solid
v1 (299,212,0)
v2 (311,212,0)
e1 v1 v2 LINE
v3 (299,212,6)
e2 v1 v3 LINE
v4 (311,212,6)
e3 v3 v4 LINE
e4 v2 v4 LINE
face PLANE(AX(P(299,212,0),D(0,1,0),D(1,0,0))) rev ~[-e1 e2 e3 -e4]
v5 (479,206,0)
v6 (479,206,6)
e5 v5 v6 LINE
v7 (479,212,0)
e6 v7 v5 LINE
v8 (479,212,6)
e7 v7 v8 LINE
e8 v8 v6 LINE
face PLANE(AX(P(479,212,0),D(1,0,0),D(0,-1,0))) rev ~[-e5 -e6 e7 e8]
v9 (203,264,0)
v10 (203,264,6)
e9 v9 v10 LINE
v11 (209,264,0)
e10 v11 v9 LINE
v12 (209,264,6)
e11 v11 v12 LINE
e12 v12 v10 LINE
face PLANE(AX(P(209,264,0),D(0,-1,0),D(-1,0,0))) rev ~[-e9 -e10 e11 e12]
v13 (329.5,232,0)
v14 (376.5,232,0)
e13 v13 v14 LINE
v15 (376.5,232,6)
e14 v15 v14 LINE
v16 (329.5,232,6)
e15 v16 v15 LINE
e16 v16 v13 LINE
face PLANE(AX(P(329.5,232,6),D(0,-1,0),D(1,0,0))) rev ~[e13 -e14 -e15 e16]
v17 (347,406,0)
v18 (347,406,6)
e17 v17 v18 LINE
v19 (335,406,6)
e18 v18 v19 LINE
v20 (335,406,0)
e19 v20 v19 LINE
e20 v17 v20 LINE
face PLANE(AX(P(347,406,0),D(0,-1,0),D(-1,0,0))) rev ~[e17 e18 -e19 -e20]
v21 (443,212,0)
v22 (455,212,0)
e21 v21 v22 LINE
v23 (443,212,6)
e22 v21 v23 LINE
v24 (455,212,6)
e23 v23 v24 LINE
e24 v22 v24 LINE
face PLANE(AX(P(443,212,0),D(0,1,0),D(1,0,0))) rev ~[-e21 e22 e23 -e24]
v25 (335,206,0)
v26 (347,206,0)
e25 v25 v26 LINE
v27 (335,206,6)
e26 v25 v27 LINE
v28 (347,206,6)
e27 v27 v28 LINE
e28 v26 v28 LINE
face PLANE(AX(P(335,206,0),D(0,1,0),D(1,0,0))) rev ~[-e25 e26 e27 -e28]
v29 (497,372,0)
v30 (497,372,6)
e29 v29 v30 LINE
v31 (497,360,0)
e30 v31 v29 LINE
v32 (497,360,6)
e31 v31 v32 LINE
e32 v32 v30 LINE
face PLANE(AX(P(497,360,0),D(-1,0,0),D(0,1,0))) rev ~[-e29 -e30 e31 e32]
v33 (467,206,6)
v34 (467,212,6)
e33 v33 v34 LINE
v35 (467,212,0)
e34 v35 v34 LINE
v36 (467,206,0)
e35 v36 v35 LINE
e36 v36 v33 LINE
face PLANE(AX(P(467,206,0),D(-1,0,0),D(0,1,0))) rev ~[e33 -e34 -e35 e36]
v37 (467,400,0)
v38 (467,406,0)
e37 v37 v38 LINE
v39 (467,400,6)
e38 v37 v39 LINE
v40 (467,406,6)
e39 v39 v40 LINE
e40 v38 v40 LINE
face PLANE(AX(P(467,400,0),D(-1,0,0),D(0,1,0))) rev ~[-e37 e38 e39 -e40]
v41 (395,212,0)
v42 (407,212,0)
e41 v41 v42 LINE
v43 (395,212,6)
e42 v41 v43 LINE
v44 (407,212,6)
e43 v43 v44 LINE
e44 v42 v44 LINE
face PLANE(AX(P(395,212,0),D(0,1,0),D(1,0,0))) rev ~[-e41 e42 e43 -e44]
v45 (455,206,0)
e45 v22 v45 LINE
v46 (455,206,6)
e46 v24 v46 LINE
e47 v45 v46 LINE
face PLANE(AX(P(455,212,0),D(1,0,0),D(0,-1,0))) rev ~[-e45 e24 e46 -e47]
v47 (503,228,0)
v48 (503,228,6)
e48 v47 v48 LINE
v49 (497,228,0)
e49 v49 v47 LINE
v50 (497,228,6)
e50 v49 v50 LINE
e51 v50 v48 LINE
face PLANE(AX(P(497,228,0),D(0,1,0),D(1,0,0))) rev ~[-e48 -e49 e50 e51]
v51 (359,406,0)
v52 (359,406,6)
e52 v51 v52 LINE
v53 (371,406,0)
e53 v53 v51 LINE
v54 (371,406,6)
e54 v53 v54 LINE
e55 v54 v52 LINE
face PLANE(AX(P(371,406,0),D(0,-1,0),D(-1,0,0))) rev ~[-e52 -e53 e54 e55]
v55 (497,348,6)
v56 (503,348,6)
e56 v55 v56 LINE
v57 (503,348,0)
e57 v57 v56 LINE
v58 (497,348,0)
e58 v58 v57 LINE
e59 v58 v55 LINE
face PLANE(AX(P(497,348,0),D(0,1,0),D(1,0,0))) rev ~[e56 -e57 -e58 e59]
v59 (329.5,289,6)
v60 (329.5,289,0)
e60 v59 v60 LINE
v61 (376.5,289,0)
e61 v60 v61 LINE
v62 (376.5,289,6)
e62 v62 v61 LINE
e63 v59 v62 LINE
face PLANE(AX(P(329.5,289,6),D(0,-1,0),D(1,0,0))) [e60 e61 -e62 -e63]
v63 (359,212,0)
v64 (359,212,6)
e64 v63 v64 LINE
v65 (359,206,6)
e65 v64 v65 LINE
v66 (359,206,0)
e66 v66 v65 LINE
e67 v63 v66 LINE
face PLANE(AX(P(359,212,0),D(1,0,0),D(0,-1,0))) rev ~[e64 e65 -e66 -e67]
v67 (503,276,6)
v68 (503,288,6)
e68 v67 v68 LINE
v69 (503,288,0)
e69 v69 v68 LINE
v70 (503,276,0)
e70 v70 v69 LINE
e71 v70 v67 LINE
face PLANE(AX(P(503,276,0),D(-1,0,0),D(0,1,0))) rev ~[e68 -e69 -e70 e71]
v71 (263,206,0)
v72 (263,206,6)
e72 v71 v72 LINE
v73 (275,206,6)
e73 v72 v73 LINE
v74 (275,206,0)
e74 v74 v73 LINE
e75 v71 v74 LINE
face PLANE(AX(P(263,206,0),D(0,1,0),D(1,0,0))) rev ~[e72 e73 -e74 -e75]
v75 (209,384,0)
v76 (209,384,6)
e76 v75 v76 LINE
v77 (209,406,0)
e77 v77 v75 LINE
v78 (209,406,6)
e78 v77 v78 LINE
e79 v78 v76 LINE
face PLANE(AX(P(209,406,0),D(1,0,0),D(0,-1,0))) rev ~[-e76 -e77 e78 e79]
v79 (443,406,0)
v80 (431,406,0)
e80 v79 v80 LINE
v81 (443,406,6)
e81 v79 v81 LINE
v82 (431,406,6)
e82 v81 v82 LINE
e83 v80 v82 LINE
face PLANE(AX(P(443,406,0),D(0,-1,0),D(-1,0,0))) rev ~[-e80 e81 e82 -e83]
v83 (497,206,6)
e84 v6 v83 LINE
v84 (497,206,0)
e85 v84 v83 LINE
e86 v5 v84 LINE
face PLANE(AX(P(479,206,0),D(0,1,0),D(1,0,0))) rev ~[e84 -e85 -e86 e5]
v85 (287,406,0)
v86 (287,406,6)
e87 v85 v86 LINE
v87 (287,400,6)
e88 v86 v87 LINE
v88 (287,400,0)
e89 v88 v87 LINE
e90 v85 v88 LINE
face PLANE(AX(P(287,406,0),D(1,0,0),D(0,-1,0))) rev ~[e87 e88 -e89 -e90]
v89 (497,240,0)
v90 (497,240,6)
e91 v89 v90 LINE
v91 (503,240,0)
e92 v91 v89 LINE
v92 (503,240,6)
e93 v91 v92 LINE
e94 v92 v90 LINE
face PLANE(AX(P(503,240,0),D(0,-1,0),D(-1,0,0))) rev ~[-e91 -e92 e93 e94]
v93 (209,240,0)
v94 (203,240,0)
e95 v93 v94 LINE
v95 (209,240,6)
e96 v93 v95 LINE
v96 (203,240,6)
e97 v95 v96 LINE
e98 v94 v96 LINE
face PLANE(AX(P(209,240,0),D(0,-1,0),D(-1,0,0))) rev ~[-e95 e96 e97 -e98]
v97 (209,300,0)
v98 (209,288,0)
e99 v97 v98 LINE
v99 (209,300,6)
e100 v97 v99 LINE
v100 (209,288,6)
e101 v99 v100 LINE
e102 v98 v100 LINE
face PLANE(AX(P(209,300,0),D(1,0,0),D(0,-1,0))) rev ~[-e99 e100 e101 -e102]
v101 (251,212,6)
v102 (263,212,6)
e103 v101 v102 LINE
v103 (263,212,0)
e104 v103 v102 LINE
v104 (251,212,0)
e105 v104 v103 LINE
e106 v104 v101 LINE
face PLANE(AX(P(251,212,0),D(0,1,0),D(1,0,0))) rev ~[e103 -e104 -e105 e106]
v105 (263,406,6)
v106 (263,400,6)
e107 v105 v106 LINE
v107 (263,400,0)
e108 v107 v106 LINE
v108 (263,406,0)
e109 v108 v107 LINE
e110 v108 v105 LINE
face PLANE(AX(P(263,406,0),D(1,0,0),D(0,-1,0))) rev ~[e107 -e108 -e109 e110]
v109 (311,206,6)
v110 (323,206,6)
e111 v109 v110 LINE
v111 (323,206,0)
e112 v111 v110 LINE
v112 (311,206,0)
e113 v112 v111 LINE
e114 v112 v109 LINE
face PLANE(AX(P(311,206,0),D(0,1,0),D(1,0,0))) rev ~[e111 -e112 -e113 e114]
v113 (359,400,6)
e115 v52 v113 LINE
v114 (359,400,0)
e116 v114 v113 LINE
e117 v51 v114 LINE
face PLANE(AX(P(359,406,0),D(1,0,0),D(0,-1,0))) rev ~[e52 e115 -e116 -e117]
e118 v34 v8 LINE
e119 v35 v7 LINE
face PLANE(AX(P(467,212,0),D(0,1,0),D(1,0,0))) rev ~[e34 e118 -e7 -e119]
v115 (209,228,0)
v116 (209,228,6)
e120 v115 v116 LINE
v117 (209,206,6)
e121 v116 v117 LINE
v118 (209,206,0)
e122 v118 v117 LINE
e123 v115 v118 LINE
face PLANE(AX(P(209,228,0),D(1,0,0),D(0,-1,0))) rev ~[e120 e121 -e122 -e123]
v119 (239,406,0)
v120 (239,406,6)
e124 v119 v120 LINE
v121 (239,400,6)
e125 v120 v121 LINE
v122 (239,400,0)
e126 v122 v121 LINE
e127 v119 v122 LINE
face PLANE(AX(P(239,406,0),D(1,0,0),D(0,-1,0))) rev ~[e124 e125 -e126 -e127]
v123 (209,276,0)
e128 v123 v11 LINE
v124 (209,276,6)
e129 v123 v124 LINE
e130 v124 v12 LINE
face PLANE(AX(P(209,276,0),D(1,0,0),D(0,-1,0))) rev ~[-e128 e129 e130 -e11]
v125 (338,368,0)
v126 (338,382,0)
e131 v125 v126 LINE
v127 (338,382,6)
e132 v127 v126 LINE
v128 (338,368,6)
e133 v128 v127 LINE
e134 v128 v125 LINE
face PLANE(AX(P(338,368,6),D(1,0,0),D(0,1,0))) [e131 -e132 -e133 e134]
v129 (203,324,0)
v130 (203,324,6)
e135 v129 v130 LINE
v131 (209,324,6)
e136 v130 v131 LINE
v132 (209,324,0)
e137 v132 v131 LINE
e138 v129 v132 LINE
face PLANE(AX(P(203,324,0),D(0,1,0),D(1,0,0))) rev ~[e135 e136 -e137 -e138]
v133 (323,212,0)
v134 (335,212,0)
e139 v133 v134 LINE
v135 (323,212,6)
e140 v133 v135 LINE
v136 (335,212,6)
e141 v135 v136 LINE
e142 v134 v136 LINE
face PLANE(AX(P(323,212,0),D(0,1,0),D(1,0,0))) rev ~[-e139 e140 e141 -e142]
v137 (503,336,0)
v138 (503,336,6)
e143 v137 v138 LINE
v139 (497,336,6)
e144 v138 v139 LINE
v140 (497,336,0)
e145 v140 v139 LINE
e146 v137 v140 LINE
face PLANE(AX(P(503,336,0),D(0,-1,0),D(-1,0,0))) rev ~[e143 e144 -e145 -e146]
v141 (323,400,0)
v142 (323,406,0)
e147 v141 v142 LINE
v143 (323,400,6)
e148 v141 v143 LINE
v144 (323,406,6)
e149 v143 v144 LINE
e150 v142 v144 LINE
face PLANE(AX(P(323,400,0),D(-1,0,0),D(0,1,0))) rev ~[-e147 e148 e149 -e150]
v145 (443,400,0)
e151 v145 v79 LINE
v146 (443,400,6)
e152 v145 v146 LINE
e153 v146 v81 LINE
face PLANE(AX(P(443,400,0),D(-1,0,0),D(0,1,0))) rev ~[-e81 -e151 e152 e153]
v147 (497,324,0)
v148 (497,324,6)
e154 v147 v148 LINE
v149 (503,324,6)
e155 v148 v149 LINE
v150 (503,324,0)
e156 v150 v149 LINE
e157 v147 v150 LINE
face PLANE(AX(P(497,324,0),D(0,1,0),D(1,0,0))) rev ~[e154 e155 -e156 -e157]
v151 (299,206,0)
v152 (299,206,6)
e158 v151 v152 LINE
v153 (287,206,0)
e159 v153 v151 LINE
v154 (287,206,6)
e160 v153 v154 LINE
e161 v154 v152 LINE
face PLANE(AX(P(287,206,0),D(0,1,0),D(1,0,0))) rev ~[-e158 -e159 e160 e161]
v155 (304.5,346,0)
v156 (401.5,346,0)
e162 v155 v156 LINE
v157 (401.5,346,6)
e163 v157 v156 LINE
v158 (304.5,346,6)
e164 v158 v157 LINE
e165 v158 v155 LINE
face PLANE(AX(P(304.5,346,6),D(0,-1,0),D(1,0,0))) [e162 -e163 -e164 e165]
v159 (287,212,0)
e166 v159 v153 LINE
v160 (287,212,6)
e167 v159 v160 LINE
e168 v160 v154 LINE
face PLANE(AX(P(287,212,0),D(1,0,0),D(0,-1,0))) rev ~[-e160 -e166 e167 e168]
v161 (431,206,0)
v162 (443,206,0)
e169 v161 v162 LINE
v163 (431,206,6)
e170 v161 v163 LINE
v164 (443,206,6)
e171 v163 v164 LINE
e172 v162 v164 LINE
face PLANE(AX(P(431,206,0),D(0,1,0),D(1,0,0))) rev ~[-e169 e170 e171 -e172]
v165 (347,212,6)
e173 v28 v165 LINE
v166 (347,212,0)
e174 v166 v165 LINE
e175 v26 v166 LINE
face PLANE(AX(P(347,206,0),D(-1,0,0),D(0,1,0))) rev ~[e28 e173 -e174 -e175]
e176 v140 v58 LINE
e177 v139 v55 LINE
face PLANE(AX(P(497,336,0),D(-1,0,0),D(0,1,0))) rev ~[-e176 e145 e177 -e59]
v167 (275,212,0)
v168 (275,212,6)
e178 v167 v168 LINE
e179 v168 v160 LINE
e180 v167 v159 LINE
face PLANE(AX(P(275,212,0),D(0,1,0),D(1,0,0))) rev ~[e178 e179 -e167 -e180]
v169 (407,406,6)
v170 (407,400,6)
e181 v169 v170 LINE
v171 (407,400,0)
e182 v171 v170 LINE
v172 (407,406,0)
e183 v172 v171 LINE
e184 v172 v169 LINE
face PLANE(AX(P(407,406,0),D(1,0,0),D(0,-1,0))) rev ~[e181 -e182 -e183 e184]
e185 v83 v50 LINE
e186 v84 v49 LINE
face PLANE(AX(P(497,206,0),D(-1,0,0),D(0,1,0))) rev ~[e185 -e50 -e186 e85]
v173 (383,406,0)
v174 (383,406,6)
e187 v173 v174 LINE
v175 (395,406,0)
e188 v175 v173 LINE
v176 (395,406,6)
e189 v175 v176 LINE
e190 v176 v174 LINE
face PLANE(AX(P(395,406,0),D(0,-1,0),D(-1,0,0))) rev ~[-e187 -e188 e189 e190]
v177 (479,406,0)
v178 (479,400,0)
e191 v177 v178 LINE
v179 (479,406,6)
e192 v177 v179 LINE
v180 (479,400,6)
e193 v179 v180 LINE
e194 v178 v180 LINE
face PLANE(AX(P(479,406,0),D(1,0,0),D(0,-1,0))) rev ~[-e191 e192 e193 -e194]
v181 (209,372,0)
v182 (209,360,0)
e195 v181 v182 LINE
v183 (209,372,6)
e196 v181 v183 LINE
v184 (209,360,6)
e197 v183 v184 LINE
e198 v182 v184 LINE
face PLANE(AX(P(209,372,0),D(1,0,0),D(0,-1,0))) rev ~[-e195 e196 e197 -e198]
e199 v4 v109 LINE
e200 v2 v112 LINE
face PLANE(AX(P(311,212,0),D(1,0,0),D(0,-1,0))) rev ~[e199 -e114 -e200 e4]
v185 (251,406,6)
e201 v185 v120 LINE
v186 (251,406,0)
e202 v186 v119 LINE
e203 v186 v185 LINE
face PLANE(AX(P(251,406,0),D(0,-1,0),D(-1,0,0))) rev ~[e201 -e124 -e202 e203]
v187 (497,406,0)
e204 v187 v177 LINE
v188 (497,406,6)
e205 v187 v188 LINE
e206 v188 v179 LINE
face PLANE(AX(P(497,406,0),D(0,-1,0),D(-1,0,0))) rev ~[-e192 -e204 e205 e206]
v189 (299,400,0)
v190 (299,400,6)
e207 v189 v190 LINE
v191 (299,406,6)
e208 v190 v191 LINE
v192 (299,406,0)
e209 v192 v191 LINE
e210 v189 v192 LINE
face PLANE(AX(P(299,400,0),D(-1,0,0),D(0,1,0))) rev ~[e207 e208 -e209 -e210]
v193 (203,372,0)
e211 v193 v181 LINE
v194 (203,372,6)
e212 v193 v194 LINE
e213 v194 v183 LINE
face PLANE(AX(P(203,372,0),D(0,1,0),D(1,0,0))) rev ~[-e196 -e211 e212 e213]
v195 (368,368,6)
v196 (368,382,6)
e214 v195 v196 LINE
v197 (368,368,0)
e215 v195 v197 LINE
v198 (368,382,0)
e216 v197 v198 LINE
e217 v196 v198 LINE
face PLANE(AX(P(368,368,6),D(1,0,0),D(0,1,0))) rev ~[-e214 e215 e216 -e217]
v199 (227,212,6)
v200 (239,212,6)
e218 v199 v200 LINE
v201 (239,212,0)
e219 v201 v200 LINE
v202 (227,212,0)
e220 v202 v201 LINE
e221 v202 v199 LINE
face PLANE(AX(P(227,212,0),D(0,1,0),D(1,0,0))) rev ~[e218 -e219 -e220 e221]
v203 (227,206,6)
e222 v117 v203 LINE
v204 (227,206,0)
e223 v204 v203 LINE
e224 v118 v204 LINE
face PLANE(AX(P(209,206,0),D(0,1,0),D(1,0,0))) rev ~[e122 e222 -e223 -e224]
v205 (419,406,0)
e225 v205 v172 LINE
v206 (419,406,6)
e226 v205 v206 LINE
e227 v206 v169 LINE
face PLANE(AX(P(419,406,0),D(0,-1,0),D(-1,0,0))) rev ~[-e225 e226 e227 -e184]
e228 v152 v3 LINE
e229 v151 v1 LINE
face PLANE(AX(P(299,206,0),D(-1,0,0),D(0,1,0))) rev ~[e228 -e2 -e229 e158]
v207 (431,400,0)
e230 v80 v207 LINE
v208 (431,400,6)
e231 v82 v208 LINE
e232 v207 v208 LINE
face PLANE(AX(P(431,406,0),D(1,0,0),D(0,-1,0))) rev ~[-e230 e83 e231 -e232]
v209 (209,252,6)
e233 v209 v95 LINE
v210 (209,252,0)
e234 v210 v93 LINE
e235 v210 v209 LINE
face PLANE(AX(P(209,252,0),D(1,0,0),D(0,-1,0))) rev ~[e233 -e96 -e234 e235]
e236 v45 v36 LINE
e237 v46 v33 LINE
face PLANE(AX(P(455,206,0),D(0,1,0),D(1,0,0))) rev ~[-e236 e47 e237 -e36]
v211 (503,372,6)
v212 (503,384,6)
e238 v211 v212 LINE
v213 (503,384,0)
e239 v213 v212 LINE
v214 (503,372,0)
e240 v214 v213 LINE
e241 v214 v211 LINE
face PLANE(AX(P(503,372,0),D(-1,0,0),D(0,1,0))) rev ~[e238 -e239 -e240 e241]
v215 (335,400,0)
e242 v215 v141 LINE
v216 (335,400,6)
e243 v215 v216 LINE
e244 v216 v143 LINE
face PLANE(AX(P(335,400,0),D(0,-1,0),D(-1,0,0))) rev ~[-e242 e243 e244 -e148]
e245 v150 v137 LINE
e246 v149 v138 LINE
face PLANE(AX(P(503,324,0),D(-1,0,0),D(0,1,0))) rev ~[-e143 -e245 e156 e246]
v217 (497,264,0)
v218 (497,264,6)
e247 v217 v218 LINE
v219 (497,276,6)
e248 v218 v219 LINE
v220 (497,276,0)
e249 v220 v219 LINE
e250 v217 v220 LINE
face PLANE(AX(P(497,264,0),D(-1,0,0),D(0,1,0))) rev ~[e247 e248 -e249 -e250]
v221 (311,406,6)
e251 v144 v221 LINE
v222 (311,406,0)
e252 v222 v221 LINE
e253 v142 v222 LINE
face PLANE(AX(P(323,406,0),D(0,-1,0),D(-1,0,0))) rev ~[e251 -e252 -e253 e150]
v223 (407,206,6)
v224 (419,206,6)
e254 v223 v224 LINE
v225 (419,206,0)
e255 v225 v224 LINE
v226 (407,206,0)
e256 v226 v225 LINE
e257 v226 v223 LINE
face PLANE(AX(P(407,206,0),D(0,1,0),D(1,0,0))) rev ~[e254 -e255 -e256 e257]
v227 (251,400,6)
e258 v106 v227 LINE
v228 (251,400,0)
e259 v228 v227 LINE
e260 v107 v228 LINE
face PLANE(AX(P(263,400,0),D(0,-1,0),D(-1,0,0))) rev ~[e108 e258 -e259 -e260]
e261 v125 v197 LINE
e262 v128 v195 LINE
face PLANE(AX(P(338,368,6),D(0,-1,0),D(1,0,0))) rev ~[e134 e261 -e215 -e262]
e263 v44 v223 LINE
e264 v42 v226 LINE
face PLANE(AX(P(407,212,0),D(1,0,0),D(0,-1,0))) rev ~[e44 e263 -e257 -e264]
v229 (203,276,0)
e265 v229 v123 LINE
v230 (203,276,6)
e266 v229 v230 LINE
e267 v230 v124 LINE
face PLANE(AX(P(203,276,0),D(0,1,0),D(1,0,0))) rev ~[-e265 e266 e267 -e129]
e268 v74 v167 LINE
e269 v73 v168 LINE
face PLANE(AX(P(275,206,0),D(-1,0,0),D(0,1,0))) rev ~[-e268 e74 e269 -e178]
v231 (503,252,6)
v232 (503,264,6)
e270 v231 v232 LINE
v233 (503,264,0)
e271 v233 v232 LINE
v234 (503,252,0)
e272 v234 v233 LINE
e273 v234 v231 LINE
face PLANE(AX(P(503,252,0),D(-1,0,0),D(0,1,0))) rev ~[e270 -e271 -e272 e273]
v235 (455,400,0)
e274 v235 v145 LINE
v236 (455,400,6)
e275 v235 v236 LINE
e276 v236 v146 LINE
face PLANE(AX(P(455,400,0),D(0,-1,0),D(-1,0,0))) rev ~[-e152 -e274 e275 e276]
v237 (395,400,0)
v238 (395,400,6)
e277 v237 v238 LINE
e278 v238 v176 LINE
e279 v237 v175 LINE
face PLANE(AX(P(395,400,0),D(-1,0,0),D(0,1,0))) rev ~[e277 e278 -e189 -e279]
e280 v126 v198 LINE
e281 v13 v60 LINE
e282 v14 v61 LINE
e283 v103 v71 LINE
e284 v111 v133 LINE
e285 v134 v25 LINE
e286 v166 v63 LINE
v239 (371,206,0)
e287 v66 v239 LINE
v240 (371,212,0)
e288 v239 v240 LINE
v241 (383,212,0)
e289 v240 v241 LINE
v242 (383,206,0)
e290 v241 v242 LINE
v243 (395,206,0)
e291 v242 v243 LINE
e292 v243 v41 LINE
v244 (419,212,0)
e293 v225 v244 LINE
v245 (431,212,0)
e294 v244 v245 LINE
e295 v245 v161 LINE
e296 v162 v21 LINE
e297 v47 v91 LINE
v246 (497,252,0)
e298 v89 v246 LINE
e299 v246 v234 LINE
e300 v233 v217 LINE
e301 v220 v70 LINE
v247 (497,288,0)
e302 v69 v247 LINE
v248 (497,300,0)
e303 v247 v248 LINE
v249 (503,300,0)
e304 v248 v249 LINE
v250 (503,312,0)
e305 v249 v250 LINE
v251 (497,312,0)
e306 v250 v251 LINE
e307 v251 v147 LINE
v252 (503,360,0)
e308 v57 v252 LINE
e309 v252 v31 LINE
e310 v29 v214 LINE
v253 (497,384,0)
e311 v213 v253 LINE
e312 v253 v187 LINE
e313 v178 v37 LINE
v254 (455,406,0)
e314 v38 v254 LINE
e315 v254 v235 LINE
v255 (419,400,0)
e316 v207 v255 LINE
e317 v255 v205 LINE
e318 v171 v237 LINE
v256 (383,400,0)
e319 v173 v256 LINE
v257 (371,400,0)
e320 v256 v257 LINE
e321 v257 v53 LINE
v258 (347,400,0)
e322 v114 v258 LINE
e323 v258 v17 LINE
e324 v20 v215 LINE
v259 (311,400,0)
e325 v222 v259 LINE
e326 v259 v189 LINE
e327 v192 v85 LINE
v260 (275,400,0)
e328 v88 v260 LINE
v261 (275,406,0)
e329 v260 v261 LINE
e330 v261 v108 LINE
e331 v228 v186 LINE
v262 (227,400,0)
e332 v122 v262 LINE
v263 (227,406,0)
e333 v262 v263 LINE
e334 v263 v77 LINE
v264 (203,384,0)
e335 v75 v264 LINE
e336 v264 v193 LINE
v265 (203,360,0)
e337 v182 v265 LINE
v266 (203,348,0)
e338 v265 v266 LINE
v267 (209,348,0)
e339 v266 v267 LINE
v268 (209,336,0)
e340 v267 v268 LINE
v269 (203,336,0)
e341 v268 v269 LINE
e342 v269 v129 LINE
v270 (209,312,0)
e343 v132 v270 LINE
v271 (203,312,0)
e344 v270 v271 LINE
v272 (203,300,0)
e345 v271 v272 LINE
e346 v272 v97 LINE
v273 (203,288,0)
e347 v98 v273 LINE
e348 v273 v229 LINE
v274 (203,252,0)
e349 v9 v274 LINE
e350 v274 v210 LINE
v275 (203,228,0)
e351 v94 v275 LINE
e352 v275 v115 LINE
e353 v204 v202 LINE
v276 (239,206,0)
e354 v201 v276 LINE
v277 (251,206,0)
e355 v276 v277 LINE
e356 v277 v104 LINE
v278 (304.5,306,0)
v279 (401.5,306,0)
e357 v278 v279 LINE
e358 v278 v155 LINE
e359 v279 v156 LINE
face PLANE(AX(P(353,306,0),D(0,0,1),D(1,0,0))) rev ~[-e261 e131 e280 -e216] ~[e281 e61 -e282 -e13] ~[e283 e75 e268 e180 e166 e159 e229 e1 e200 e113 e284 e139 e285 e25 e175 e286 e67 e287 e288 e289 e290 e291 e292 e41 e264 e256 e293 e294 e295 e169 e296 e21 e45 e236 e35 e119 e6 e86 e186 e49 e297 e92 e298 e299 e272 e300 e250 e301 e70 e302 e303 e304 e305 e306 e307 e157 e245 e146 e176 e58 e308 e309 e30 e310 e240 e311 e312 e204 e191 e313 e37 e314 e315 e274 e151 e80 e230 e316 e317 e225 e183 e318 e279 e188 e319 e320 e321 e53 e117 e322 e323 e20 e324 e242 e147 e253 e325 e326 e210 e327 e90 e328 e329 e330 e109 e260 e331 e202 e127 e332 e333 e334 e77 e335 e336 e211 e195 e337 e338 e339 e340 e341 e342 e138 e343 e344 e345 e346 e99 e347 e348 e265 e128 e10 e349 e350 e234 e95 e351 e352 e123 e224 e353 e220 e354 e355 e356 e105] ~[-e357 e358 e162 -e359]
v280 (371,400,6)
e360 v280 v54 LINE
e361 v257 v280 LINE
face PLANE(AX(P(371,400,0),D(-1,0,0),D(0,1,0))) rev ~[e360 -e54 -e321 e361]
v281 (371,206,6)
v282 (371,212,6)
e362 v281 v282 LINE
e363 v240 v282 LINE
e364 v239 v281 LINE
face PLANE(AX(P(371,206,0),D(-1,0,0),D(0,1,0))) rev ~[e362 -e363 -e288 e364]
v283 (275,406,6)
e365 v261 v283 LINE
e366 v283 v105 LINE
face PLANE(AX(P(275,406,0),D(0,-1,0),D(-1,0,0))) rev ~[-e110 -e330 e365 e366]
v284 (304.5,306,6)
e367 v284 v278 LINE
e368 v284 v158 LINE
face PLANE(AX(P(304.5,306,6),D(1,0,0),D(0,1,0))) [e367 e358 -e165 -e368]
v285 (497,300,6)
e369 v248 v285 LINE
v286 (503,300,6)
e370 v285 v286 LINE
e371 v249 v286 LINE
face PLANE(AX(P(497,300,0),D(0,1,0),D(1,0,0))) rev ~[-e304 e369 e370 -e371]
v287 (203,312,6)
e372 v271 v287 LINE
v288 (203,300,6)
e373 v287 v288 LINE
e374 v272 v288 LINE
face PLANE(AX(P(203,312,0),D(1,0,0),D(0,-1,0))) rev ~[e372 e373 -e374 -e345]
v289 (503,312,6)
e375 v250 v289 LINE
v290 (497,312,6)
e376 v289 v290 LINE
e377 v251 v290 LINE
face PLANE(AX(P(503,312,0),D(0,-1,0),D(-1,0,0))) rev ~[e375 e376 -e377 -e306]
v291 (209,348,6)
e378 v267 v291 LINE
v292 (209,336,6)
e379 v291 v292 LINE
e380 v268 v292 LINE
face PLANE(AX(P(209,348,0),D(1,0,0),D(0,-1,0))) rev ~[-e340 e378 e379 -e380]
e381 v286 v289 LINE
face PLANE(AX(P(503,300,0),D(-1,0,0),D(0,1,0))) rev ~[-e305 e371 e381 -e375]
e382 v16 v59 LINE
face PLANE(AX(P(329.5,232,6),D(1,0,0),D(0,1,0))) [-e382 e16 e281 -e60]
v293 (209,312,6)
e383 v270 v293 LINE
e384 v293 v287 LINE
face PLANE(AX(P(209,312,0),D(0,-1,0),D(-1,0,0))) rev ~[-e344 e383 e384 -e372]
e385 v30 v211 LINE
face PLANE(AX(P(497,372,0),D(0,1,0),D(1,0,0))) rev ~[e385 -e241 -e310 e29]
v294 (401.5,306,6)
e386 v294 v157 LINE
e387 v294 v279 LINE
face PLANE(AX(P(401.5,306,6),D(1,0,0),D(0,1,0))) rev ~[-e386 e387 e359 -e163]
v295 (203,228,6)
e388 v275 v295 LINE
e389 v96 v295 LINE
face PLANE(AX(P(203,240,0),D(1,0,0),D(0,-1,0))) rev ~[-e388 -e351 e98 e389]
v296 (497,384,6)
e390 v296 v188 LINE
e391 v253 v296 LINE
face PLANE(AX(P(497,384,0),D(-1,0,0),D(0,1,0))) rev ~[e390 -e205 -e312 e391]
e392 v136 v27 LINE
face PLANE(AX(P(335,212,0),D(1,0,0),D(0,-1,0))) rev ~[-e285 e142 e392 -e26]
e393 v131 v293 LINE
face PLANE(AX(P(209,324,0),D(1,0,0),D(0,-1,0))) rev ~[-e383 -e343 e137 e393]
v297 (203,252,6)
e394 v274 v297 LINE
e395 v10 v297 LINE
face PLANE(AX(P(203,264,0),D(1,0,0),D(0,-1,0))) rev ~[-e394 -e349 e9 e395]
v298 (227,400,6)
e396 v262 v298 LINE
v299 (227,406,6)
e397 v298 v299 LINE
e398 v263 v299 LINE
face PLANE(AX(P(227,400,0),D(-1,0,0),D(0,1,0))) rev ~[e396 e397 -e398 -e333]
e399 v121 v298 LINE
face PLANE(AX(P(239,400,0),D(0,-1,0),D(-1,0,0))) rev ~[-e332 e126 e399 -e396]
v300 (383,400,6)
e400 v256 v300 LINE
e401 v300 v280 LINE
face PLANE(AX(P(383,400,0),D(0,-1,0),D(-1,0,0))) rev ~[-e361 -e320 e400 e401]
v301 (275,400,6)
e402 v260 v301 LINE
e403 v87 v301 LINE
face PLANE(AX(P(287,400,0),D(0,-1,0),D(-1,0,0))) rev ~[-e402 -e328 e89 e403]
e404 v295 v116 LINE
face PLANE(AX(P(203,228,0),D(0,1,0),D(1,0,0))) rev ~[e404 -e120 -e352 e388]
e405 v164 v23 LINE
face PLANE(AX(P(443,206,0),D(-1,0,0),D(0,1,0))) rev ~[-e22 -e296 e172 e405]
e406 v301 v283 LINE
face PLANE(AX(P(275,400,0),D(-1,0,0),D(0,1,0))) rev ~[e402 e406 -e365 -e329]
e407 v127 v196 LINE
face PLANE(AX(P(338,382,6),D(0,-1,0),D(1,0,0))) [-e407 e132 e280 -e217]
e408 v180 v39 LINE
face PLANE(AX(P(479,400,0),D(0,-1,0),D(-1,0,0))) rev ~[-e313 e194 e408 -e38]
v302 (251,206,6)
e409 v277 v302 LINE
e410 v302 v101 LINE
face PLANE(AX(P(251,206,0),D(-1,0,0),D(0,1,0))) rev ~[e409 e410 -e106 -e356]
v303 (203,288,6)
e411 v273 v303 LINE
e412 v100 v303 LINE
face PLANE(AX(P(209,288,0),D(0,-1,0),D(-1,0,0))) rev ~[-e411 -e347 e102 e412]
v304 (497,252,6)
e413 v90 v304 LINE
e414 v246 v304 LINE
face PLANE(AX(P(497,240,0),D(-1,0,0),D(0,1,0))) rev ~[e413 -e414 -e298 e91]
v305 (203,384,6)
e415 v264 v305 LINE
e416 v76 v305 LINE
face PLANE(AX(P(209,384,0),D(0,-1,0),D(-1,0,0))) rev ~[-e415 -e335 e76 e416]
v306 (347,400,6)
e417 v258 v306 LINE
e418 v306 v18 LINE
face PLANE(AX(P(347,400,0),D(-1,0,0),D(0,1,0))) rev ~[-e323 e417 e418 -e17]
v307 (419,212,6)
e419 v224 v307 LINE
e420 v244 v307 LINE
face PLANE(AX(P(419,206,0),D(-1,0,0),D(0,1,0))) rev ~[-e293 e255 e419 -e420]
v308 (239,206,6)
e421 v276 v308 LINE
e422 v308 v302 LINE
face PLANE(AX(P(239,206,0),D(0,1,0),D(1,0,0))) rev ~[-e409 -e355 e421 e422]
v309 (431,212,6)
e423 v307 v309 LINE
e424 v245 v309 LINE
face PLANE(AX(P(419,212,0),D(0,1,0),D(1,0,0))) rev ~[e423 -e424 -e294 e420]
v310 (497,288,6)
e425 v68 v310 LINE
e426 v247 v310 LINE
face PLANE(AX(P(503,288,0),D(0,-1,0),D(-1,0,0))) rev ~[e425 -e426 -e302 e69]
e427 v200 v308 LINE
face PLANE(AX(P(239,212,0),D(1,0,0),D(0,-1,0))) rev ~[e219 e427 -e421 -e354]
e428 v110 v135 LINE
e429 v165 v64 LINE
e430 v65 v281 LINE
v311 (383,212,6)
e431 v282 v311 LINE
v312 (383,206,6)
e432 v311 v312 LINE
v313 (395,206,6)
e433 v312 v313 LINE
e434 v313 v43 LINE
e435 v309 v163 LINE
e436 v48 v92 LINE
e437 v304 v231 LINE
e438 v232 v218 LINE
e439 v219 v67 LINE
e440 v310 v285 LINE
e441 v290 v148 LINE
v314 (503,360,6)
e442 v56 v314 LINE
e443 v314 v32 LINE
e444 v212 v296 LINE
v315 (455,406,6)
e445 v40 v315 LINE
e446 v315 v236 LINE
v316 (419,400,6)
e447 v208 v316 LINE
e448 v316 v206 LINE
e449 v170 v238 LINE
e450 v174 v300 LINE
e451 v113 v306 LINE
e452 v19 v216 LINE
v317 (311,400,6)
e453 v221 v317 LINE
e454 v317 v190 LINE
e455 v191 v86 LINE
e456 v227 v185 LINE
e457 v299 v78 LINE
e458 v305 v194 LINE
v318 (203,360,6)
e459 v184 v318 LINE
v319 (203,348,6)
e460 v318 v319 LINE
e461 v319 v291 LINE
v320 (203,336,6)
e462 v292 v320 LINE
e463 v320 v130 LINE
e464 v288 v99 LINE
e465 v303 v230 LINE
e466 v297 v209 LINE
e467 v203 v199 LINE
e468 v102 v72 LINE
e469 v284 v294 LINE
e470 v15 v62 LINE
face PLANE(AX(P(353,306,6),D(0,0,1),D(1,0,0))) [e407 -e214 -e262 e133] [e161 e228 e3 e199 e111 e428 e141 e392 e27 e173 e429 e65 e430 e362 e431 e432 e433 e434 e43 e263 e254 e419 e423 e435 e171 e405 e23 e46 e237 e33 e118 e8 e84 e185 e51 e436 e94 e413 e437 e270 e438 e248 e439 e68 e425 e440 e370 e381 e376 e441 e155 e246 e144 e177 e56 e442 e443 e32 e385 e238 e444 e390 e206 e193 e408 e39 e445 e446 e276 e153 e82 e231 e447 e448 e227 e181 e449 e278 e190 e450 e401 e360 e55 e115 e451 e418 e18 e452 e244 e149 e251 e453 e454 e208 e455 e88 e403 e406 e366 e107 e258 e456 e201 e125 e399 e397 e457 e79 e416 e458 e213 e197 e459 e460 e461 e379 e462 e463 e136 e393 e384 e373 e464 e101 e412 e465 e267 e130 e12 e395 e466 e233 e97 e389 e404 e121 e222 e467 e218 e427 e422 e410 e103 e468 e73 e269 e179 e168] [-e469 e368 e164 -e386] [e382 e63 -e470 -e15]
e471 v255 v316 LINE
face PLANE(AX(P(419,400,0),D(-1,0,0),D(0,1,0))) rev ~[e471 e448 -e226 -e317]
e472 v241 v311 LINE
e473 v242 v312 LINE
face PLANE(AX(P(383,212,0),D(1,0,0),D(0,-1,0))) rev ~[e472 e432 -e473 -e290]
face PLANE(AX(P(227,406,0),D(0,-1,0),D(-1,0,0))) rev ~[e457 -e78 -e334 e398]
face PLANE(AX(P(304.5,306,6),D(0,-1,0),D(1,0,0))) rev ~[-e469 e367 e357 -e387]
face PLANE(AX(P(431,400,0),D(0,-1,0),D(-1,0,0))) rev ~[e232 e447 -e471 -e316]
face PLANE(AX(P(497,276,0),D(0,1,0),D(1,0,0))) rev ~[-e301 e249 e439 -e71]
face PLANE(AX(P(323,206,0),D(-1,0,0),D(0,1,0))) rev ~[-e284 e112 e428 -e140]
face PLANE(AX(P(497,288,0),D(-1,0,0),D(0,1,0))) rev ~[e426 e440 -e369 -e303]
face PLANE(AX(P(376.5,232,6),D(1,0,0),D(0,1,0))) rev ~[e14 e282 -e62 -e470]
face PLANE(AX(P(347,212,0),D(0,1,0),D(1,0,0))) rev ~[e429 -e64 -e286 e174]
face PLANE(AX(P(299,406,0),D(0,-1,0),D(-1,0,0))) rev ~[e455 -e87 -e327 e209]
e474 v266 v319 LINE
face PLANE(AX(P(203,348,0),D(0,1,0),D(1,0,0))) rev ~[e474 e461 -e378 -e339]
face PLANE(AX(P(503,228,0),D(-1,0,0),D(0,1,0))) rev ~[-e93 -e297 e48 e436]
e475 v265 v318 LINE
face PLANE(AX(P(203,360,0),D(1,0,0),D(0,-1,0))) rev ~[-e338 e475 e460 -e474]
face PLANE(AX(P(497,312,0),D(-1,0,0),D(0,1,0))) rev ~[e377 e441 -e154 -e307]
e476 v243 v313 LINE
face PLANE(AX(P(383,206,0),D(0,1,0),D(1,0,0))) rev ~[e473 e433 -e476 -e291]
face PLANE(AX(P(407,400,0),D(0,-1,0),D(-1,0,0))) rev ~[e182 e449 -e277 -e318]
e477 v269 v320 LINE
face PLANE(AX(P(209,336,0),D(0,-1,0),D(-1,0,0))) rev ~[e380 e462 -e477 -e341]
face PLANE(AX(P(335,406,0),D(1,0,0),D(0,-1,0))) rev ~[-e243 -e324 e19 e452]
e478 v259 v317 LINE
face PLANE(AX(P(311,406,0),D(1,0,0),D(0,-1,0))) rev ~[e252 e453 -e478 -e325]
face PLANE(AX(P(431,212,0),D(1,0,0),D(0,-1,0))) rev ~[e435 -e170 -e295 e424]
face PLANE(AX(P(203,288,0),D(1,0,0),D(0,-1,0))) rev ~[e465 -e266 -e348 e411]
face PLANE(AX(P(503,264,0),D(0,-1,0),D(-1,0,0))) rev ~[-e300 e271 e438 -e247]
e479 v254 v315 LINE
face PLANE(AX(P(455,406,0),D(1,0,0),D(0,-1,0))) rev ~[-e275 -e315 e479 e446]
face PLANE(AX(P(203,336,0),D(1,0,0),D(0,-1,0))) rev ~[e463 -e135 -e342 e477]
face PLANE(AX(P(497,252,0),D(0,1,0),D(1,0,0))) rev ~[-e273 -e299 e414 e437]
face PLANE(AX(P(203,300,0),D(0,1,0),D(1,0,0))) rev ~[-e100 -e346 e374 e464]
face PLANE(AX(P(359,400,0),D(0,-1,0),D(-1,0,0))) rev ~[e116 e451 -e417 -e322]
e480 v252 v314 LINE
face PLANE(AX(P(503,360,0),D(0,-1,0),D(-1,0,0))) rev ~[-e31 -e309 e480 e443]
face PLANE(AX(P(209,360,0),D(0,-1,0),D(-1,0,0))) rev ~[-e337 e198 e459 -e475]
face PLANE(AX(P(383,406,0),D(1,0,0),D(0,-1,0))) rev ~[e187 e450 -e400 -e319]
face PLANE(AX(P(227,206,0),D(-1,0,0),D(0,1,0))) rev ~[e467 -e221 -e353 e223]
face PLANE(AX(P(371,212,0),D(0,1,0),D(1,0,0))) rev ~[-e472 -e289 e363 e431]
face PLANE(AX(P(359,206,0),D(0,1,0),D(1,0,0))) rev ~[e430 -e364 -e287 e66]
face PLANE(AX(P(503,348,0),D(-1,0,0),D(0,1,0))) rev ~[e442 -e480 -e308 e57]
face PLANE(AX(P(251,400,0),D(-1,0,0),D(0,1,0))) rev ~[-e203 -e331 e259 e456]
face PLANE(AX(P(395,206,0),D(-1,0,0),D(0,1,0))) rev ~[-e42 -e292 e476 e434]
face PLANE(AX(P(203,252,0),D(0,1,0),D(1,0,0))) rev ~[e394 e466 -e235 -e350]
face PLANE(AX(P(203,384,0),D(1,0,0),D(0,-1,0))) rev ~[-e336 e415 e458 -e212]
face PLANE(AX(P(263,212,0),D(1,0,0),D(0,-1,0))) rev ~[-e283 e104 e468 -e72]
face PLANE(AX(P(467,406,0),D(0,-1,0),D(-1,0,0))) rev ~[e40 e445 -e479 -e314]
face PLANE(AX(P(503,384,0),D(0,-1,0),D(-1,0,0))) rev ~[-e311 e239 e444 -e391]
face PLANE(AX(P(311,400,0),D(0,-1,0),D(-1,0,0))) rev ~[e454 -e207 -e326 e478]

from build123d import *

# Parameters (mm, degrees)
BOSS_EXTRUDE1_DEPTH = 6
SKETCH2_W           = 30
SKETCH2_H           = 14
SKETCH2_W_2         = 97
SKETCH2_H_2         = 40
SKETCH2_W_3         = 47
SKETCH2_H_3         = 57
CUT_EXTRUDE1_DEPTH  = 6


with BuildPart() as part:
    # Model → Boss-Extrude1 (new body)
    with BuildSketch(Plane.XY):
        Polygon((209, 406), (209, 384), (203, 384), (203, 372), (209, 372), (209, 360), (203, 360), (203, 348), (209, 348), (209, 336), (203, 336), (203, 324), (209, 324), (209, 312), (203, 312), (203, 300), (209, 300), (209, 288), (203, 288), (203, 276), (209, 276), (209, 264), (203, 264), (203, 252), (209, 252), (209, 240), (203, 240), (203, 228), (209, 228), (209, 216), (209, 206), (227, 206), (227, 212), (239, 212), (239, 206), (251, 206), (251, 212), (263, 212), (263, 206), (275, 206), (275, 212), (287, 212), (287, 206), (299, 206), (299, 212), (311, 212), (311, 206), (323, 206), (323, 212), (335, 212), (335, 206), (347, 206), (347, 212), (359, 212), (359, 206), (371, 206), (371, 212), (383, 212), (383, 206), (395, 206), (395, 212), (407, 212), (407, 206), (419, 206), (419, 212), (431, 212), (431, 206), (443, 206), (443, 212), (455, 212), (455, 206), (467, 206), (467, 212), (479, 212), (479, 206), (491, 206), (497, 206), (497, 228), (503, 228), (503, 240), (497, 240), (497, 252), (503, 252), (503, 264), (497, 264), (497, 276), (503, 276), (503, 288), (497, 288), (497, 300), (503, 300), (503, 312), (497, 312), (497, 324), (503, 324), (503, 336), (497, 336), (497, 348), (503, 348), (503, 360), (497, 360), (497, 372), (503, 372), (503, 384), (497, 384), (497, 396), (497, 406), (479, 406), (479, 400), (467, 400), (467, 406), (455, 406), (455, 400), (443, 400), (443, 406), (431, 406), (431, 400), (419, 400), (419, 406), (407, 406), (407, 400), (395, 400), (395, 406), (383, 406), (383, 400), (371, 400), (371, 406), (359, 406), (359, 400), (347, 400), (347, 406), (335, 406), (335, 400), (323, 400), (323, 406), (311, 406), (311, 400), (299, 400), (299, 406), (287, 406), (287, 400), (275, 400), (275, 406), (263, 406), (263, 400), (251, 400), (251, 406), (239, 406), (239, 400), (227, 400), (227, 406), (215, 406), align=None)
    extrude(amount=BOSS_EXTRUDE1_DEPTH)

    # Sketch2 → Cut-Extrude1 (cut)
    with BuildSketch(Plane.XY.offset(6)):
        with Locations((353, 375)):
            Rectangle(SKETCH2_W, SKETCH2_H)
        with Locations((353, 326)):
            Rectangle(SKETCH2_W_2, SKETCH2_H_2)
        with Locations((353, 260.5)):
            Rectangle(SKETCH2_W_3, SKETCH2_H_3)
    extrude(amount=-CUT_EXTRUDE1_DEPTH, mode=Mode.SUBTRACT)


solid = part.part
